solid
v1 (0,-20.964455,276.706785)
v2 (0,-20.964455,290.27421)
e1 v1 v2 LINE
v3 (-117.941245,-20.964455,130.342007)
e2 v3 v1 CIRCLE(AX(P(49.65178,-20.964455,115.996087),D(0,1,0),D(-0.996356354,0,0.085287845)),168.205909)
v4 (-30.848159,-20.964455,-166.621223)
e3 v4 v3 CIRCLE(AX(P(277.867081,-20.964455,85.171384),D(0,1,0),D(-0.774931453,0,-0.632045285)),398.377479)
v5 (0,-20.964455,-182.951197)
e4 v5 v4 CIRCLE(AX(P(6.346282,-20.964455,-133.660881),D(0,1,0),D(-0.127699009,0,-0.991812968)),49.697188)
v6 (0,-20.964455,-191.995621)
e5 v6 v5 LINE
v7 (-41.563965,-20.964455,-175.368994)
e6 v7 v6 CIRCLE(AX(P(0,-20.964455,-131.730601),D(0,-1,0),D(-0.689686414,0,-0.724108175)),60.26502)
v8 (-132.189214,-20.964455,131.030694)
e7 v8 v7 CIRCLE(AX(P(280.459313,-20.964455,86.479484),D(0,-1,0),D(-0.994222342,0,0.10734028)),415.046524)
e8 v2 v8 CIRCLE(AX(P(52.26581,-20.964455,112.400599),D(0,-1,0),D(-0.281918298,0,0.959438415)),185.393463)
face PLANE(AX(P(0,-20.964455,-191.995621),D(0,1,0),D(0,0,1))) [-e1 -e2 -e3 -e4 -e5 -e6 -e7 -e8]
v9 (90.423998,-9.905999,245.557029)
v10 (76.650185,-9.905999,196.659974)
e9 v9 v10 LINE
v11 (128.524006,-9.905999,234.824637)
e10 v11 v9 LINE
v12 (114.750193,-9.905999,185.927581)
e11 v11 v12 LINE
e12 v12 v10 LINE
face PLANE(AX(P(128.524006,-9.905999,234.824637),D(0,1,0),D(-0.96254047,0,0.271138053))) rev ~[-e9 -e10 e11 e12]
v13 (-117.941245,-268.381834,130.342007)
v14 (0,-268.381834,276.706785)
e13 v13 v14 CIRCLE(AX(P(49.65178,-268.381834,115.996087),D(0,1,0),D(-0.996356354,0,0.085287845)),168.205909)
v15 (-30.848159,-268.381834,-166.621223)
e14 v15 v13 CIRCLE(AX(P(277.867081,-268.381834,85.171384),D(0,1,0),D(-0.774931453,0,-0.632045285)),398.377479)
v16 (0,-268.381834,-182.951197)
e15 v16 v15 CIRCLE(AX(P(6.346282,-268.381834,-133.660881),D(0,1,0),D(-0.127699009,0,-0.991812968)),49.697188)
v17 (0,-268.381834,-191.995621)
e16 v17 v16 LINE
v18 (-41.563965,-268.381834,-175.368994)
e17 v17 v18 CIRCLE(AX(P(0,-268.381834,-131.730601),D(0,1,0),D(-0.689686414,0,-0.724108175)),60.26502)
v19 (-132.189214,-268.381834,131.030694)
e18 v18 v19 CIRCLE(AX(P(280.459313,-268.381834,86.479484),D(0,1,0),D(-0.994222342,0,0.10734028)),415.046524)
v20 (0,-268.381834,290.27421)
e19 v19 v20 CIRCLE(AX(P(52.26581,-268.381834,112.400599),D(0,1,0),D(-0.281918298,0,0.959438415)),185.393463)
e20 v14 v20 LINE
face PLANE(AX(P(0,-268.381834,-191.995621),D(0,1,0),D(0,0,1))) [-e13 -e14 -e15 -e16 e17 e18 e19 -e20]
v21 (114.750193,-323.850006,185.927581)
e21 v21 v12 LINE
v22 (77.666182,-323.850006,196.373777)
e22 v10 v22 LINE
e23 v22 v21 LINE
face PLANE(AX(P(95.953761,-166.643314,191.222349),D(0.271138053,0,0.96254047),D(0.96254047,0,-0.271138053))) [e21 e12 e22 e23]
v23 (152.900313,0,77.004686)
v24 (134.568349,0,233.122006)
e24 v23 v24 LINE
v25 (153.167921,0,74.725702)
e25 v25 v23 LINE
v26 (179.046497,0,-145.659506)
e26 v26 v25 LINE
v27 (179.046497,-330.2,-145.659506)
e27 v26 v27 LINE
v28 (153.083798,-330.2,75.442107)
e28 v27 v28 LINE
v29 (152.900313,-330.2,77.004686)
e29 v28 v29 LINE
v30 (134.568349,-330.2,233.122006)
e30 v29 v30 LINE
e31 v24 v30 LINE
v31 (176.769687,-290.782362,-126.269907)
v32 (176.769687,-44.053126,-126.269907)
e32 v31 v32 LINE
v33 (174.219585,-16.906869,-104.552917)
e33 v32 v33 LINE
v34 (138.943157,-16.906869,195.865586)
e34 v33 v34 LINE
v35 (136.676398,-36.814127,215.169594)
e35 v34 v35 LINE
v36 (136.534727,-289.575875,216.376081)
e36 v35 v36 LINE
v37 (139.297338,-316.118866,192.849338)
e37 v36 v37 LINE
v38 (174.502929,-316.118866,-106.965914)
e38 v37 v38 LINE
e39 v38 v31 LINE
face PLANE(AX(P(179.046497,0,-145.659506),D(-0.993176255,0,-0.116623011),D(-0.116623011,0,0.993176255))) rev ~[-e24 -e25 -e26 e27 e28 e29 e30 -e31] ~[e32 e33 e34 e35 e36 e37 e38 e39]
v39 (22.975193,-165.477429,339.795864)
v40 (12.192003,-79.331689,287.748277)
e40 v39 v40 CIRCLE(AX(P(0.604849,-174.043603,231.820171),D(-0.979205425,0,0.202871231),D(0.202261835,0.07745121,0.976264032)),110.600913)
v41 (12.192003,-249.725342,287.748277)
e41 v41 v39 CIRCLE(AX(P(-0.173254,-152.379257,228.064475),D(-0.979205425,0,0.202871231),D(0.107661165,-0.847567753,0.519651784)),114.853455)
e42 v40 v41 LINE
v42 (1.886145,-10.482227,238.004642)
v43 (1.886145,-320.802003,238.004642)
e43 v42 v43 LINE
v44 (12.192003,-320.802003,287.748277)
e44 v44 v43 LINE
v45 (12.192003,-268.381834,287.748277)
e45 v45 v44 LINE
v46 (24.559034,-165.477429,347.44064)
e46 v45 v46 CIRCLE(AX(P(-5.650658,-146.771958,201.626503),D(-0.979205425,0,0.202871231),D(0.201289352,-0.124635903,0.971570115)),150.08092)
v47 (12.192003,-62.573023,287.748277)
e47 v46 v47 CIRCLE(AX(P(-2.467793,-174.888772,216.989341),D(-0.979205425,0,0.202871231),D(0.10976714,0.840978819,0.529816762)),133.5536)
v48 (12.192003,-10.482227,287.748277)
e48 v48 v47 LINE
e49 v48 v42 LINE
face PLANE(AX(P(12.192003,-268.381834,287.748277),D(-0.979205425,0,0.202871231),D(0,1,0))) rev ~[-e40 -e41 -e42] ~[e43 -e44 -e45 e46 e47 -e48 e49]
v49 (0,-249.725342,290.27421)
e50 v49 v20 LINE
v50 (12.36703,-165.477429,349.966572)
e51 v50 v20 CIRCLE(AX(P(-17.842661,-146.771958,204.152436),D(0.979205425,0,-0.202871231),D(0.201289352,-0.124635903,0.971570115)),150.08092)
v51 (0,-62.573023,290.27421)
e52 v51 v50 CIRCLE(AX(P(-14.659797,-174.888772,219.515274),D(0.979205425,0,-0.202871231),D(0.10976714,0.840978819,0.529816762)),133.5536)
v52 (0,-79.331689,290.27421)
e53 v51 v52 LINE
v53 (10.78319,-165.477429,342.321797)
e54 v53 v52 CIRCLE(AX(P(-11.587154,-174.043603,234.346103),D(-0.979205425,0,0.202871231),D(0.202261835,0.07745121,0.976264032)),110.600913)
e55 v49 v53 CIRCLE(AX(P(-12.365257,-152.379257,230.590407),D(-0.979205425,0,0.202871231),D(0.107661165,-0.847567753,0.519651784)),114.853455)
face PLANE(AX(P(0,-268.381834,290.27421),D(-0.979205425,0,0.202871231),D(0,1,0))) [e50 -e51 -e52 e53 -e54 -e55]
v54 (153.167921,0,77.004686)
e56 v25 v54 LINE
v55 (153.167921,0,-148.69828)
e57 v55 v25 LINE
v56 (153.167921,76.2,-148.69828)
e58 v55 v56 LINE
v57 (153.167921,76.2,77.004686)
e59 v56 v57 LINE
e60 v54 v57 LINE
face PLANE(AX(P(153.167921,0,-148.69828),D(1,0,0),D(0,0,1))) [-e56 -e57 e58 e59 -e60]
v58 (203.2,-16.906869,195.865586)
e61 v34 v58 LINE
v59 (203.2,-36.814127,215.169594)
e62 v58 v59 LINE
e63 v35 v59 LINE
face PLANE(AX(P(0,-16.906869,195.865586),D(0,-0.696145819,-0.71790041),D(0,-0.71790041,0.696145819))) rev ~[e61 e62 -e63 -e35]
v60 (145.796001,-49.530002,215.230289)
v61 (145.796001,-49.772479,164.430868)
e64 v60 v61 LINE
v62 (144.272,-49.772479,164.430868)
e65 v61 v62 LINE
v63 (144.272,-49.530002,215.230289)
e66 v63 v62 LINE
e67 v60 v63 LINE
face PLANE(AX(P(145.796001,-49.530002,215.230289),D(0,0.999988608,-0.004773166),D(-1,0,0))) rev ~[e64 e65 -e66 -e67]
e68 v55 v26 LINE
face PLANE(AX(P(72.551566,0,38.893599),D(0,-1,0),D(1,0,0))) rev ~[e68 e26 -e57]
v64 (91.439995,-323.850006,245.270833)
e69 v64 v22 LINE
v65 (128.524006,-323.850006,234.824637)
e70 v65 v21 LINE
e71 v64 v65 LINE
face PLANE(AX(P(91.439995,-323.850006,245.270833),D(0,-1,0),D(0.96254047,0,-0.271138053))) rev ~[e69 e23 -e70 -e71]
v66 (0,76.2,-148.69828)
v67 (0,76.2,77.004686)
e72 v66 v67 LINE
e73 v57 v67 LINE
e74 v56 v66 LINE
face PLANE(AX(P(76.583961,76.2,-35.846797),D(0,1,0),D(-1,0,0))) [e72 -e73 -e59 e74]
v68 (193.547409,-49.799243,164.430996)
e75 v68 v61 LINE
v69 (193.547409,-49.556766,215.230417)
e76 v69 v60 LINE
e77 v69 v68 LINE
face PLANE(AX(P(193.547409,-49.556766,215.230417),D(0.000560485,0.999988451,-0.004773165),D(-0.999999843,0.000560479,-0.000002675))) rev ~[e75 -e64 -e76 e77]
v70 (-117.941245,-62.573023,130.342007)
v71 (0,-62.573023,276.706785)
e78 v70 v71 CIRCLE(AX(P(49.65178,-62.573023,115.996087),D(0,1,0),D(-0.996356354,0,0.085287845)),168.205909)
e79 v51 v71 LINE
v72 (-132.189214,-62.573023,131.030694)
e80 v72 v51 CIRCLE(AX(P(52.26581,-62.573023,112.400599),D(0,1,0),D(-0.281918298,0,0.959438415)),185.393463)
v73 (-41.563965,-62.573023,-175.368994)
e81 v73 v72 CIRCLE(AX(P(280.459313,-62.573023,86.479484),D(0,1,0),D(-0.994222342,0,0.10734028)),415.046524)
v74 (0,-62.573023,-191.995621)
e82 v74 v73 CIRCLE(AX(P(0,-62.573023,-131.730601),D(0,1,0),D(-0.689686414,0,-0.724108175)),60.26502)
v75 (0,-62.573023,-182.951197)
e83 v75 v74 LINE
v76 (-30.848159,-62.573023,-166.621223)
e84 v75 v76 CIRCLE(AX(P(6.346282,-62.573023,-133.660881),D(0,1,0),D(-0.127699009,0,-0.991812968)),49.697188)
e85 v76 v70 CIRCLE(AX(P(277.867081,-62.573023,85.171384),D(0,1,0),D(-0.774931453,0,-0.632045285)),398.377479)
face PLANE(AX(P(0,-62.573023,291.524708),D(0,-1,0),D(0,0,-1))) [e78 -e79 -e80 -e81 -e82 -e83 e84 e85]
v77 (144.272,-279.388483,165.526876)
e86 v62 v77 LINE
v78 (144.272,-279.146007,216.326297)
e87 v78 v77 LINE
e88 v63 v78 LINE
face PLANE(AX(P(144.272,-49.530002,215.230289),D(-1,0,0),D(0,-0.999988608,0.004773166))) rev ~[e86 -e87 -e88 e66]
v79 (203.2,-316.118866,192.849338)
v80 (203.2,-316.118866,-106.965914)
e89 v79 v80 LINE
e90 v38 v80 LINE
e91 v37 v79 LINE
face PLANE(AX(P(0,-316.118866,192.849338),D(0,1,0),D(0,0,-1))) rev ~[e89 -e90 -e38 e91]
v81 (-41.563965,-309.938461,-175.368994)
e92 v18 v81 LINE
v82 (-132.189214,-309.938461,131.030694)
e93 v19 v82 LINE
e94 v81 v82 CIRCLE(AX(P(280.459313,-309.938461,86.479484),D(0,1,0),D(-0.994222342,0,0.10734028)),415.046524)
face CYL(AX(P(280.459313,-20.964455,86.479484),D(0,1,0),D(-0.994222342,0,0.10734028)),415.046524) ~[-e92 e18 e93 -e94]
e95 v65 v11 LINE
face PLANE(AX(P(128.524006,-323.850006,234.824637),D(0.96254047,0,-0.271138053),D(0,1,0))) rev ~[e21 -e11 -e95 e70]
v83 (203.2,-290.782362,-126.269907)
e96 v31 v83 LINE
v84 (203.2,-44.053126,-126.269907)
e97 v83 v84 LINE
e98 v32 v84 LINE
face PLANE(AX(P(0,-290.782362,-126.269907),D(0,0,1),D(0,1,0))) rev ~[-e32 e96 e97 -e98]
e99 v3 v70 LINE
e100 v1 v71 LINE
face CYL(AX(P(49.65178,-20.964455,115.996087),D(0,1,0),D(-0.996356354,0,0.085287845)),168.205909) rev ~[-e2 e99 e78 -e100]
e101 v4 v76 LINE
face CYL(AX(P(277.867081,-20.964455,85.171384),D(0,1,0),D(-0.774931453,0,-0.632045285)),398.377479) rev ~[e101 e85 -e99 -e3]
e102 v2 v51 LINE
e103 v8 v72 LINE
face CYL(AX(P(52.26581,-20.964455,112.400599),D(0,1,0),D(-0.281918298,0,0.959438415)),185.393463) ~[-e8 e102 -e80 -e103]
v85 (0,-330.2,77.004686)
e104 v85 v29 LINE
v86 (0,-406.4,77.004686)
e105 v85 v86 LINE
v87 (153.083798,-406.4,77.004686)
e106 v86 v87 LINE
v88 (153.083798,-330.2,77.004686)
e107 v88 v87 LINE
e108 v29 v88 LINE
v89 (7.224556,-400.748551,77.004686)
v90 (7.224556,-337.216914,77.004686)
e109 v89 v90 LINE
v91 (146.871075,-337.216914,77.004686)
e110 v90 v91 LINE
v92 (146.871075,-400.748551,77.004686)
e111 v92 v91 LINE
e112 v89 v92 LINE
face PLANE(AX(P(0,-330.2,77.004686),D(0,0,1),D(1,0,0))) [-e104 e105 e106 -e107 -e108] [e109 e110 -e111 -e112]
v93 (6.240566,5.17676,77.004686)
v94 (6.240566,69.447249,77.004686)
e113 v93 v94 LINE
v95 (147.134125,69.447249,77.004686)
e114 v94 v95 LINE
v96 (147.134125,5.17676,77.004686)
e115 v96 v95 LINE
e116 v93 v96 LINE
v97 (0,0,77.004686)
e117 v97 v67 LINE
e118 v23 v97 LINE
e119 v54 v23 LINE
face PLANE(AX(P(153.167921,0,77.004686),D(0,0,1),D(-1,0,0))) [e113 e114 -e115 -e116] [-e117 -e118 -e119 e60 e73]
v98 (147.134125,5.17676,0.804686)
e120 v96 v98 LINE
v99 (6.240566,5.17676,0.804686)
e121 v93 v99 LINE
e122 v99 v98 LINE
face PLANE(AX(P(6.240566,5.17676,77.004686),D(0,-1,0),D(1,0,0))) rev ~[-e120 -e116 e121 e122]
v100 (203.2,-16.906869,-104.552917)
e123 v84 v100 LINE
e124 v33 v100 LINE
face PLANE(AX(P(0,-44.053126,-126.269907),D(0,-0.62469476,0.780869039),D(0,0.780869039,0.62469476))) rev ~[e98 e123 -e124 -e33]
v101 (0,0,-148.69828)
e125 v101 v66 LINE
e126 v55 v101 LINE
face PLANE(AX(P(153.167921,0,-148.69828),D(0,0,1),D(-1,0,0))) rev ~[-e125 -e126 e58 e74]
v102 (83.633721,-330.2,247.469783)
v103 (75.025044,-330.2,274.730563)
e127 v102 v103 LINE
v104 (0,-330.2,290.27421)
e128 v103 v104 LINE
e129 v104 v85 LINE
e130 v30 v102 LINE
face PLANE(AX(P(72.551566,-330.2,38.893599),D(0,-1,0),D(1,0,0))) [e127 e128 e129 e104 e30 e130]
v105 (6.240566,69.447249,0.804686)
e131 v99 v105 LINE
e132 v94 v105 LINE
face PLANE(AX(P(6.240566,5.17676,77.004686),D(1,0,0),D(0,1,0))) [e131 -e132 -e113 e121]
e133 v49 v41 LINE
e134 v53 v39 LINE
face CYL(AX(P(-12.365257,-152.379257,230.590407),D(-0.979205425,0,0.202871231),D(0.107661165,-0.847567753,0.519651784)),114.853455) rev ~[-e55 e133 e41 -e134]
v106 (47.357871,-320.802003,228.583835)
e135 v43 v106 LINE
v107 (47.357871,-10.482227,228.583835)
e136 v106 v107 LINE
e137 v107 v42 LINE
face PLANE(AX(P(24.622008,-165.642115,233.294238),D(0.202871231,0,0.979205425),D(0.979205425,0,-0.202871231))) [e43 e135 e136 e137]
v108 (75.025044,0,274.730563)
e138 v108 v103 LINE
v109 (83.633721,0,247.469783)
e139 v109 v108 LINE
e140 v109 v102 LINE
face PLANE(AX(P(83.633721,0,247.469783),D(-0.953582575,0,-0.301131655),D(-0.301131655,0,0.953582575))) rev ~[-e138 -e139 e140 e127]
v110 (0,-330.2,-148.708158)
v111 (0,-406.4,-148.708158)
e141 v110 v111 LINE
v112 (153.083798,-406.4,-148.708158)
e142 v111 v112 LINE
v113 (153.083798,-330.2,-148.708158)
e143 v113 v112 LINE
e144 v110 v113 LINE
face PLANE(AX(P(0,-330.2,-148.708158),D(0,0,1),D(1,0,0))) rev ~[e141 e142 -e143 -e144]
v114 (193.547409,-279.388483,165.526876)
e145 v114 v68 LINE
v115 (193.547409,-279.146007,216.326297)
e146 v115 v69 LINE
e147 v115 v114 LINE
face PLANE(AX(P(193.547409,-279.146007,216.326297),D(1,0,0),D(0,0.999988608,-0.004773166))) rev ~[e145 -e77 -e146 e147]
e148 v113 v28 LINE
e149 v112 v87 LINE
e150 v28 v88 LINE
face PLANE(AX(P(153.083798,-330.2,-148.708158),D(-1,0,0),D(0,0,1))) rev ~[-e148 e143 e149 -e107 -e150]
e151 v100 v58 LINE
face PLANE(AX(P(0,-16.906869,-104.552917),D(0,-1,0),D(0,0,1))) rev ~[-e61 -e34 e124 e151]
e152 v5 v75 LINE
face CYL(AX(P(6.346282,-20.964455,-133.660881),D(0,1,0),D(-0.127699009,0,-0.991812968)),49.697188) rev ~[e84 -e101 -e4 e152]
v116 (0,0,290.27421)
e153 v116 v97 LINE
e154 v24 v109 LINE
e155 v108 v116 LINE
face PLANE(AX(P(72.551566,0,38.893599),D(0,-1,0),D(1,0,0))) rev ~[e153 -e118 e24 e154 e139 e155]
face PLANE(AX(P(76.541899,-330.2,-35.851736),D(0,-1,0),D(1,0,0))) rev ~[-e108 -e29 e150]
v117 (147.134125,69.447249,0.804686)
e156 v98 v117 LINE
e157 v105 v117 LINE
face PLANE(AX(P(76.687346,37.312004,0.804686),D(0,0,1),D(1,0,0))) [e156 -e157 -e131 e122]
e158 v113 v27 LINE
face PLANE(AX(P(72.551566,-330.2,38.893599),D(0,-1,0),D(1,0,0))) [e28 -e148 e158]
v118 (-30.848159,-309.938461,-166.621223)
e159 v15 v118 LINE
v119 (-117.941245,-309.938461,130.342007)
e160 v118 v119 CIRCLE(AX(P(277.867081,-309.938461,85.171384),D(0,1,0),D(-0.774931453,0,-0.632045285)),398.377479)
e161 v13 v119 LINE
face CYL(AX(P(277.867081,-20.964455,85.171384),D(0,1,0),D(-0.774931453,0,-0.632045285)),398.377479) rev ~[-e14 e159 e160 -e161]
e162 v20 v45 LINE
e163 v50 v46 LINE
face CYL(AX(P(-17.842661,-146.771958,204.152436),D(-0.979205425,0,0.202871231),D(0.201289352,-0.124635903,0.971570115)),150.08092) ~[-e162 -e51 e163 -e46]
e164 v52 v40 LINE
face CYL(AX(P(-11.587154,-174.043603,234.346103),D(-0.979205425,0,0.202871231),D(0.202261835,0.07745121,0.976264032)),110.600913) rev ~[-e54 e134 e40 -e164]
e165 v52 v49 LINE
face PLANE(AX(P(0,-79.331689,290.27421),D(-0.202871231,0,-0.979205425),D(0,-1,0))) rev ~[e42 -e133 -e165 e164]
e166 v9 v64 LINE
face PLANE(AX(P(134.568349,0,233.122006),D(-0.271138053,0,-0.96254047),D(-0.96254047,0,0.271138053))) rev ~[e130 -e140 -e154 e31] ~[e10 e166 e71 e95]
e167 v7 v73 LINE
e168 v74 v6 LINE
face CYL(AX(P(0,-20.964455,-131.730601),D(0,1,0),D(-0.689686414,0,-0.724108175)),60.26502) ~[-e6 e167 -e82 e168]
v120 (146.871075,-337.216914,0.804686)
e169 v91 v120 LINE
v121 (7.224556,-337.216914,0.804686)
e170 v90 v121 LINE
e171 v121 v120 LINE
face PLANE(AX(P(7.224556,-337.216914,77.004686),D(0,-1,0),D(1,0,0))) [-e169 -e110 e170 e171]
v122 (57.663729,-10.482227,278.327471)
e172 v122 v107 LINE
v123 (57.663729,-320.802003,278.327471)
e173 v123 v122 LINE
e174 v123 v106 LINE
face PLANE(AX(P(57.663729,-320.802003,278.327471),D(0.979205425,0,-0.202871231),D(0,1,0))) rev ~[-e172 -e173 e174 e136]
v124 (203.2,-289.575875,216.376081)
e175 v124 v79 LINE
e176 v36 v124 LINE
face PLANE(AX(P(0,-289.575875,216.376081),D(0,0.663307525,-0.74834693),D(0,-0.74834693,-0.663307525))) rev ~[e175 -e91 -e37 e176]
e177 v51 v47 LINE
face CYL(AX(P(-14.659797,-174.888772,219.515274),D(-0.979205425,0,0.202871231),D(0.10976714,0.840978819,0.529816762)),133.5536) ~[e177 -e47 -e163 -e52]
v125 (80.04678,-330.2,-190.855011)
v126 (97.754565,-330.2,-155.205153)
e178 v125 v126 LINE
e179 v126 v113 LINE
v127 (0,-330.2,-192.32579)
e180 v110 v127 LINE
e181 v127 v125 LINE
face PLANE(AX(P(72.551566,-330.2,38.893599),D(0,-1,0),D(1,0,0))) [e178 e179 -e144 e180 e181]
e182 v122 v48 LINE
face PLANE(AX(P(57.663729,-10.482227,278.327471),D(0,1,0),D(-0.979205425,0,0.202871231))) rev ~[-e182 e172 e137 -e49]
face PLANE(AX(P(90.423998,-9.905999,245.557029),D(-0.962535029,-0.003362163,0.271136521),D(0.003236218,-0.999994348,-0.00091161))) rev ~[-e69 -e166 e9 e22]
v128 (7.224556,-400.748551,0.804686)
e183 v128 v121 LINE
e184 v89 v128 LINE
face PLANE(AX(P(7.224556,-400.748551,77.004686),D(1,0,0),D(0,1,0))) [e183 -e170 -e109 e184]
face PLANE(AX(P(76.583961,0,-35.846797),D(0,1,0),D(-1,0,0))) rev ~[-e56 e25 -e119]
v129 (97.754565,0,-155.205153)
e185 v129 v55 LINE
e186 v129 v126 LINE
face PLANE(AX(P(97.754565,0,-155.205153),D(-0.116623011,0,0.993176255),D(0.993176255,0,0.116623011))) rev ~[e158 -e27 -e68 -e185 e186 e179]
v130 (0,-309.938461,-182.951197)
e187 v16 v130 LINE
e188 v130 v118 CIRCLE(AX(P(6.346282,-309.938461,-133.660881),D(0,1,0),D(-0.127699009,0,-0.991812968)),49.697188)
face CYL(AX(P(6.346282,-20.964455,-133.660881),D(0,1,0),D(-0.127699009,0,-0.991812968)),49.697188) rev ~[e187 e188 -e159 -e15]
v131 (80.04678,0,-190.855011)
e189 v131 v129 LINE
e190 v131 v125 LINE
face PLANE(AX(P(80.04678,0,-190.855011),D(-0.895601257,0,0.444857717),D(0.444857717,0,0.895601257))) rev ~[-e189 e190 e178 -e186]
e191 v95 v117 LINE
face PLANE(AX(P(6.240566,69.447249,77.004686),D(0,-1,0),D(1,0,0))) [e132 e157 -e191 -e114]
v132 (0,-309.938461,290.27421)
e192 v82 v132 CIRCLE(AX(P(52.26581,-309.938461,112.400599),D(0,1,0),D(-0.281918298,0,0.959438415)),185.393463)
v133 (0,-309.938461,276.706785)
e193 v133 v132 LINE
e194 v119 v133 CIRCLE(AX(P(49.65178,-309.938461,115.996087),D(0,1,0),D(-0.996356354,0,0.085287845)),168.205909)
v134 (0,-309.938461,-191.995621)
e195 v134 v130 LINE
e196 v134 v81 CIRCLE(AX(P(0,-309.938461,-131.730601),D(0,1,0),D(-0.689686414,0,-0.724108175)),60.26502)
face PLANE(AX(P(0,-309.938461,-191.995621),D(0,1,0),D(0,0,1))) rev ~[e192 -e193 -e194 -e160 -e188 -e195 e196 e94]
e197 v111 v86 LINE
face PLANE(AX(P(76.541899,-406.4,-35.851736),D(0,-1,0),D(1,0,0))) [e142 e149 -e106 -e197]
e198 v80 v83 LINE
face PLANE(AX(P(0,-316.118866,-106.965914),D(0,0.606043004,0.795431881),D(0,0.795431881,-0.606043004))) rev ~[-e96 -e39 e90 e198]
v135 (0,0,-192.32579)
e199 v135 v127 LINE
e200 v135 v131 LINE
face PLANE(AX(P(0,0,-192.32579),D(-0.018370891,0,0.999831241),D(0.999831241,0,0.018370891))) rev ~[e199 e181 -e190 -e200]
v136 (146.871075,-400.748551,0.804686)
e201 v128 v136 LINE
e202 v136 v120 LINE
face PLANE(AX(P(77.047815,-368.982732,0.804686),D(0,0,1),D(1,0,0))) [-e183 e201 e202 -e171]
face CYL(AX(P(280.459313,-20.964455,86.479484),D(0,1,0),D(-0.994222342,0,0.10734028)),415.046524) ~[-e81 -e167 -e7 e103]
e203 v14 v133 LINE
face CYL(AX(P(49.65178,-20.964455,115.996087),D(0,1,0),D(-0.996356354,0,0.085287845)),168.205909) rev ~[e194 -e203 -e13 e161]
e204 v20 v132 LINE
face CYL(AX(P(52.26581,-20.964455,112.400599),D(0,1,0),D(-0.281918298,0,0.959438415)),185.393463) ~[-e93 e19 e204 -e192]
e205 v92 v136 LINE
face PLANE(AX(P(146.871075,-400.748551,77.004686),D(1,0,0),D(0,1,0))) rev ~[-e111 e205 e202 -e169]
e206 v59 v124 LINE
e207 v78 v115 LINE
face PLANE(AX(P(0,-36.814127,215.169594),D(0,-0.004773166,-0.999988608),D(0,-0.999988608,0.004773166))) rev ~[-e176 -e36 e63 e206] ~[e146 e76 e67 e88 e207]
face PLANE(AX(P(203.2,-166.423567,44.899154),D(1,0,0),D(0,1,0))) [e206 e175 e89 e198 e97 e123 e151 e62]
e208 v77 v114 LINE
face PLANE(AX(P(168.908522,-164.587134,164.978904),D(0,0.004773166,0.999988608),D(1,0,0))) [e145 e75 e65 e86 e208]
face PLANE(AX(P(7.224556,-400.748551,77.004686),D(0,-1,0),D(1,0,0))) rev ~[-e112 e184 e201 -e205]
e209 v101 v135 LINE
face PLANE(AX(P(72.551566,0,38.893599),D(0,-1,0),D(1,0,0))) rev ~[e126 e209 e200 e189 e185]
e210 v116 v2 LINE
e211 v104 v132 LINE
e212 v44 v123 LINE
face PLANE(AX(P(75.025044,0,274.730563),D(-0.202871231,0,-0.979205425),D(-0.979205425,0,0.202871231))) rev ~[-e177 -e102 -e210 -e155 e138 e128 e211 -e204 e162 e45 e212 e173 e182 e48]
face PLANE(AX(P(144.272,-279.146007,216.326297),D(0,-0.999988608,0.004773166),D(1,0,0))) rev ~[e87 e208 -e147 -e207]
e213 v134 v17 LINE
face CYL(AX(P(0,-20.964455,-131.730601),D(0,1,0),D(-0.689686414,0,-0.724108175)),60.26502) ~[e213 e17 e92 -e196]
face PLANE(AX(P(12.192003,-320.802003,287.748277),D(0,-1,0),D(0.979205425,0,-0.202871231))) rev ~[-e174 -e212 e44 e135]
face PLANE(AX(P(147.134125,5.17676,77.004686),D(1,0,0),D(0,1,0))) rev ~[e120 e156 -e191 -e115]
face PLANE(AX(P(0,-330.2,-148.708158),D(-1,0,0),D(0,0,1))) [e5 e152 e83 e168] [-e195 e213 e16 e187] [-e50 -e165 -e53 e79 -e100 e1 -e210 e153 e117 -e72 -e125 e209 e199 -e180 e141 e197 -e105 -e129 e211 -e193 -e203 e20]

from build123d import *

# Parameters (mm, degrees)
F1_DEPTH  = 330.2
F3_DEPTH  = 203.2
F4_W      = 41.5566265583
F4_H      = 483.5203289986
F5_DEPTH  = 139.7
F8_DEPTH  = 304.8
F9_DEPTH  = 304.8
F13_DEPTH = 50.8
F14_DEPTH = 50.8
F15_DEPTH = 50.8
F16_W     = 12.4509147432
F16_H     = 205.8088108897
F17_DEPTH = 60.96
F19_DEPTH = 25.4
F20_DEPTH = 25.4
F21_W     = 153.1679212224
F21_H     = 225.7029655442
F22_DEPTH = 76.2
F23_W     = 153.0837979386
F23_H     = 225.7128436606
F24_DEPTH = 76.2
F25_W     = 139.6465194412
F25_H     = 63.5316371918
F26_DEPTH = 76.2
F27_W     = 140.8935589716
F27_H     = 64.2704893835
F28_DEPTH = 76.2


with BuildPart() as f1:
    # F0 (on Front) → F1 (new body)
    with BuildSketch(Plane.XZ):
        Polygon((75.0250443816, 274.7305631638), (0, 290.2742098035), (0, -192.3257901965), (80.0467804074, -190.855011344), (97.7545654154, -155.2051532254), (179.0464967489, -145.659506321), (134.568348527, 233.1220060587), (83.6337208748, 247.4697828293), align=None)
    extrude(amount=F1_DEPTH)

    # F2 (on Right) → F3 (join)
    with BuildSketch(Plane.YZ):
        Polygon((-36.8141271174, 215.1695936918), (-289.5758748055, 216.376081109), (-316.1188662052, 192.8493380547), (-316.1188662052, -106.9659143686), (-290.7823622227, -126.2699067593), (-44.0531261265, -126.2699067593), (-16.9068686664, -104.5529171824), (-16.9068686664, 195.8655864), align=None)
    extrude(amount=F3_DEPTH)

    # F4 (on Right) → F5 (join)
    with BuildSketch(Plane.YZ):
        Polygon((-20.9644548595, -191.9956207275), (-20.9644548595, 291.524708271), (-62.5730231404, 291.524708271), (-62.5730231404, -191.9956207275), (-26.7035681754, -191.9956207275), align=None)
        with Locations((-289.1601473093, 49.7645437717)):
            Rectangle(F4_W, F4_H)
    extrude(amount=-F5_DEPTH)

    # F7 (on face) → F8 (cut)
    with BuildSketch(Plane(origin=(0, -20.9644548595, 0), x_dir=(-1, 0, 0), z_dir=(0, 1, 0))):
        with BuildLine():
            Line((0, 291.524708271), (0, 290.2742098035))
            ThreePointArc((0, 290.2742098035), (90.3834546734, 230.8148027656), (132.1892142296, 131.0306936502))
            ThreePointArc((132.1892142296, 131.0306936502), (117.5430207962, -31.2395021377), (41.5639653802, -175.3689944744))
            ThreePointArc((41.5639653802, -175.3689944744), (22.3830735082, -187.6847842501), (0, -191.9956207275))
            Line((0, -191.9956207275), (139.7, -191.9956207275))
            Line((139.7, -191.9956207275), (139.7, 291.524708271))
            Line((139.7, 291.524708271), (0, 291.524708271))
        make_face()
    extrude(amount=-F8_DEPTH, mode=Mode.SUBTRACT)

    # F7 (on face) → F9 (cut)
    with BuildSketch(Plane(origin=(0, -20.9644548595, 0), x_dir=(-1, 0, 0), z_dir=(0, 1, 0))):
        with BuildLine():
            ThreePointArc((30.8481585234, -166.6212230921), (104.4091983221, -26.9422304703), (117.9412454367, 130.3420066833))
            ThreePointArc((117.9412454367, 130.3420066833), (81.3233643675, 221.5363124881), (0, 276.7067849636))
            Line((0, 276.7067849636), (0, -182.9511970282))
            ThreePointArc((0, -182.9511970282), (16.9048608228, -177.5834823958), (30.8481585234, -166.6212230921))
        make_face()
    extrude(amount=-F9_DEPTH, mode=Mode.SUBTRACT)

    # F12 (on face) → F13 (cut)
    with BuildSketch(Plane(origin=(0, 1.026189658, 214.9889735368), x_dir=(1, 0, 0), z_dir=(0, 0.0047731656, 0.9999886084))):
        Polygon((193.5474094368, -50.5835317066), (145.7960009575, -50.5567677319), (144.2719995975, -50.5567677319), (144.2719995975, -280.1753878593), (193.5474094368, -280.1753878593), align=None)
    extrude(amount=-F13_DEPTH, mode=Mode.SUBTRACT)

    # F10 (on face) → F14 (cut)
    with BuildSketch(Plane(origin=(57.6637293587, 0, 278.3274706783), x_dir=(0.9792054246, 0, -0.202871231), z_dir=(0.202871231, 0, 0.9792054246))):
        Polygon((0, -10.4822274297), (-44.3622209132, -10.4822274297), (-46.4373715222, -10.4822274297), (-46.4373715222, -320.8020031452), (0, -320.8020031452), align=None)
    extrude(amount=-F14_DEPTH, mode=Mode.SUBTRACT)

    # F11 (on face) → F15 (cut)
    with BuildSketch(Plane(origin=(70.7334014159, 0, 251.1036741994), x_dir=(0.9625404698, 0, -0.2711380534), z_dir=(0.2711380534, 0, 0.9625404698))):
        Polygon((60.0396618247, -9.9059985951), (20.4569026828, -9.9059985951), (21.5124394745, -323.8500058651), (60.0396618247, -323.8500058651), align=None)
    extrude(amount=-F15_DEPTH, mode=Mode.SUBTRACT)

    # F16 (on face) → F17 (join)
    with BuildSketch(Plane(origin=(57.6637293587, 0, 278.3274706783), x_dir=(0.9792054246, 0, -0.202871231), z_dir=(0.202871231, 0, 0.9792054246))):
        with Locations((-52.6628288938, -165.4774285853)):
            Rectangle(F16_W, F16_H)
    extrude(amount=F17_DEPTH)

    # F18 (on face) → F19 (cut)
    with BuildSketch(Plane(origin=(-57.6637293587, 0, 11.9467391251), x_dir=(0, -1, 0), z_dir=(-0.9792054246, 0, 0.202871231))):
        with BuildLine():
            ThreePointArc((62.5730231404, 284.2380808719), (106.8196773219, 326.8815108015), (165.4774285853, 345.1980808719))
            Line((165.4774285853, 345.1980808719), (62.5730231404, 345.1980808719))
            Line((62.5730231404, 345.1980808719), (62.5730231404, 284.2380808719))
        make_face()
        with BuildLine():
            Line((268.3818340302, 345.1980808719), (165.4774285853, 345.1980808719))
            ThreePointArc((165.4774285853, 345.1980808719), (223.2646342428, 325.4119737611), (268.3818340302, 284.2380808719))
            Line((268.3818340302, 284.2380808719), (268.3818340302, 345.1980808719))
        make_face()
    extrude(amount=-F19_DEPTH, mode=Mode.SUBTRACT)

    # F18 (on face) → F20 (cut)
    with BuildSketch(Plane(origin=(-57.6637293587, 0, 11.9467391251), x_dir=(0, -1, 0), z_dir=(-0.9792054246, 0, 0.202871231))):
        with BuildLine():
            ThreePointArc((165.4774285853, 337.3909592628), (115.9669465301, 321.2480632926), (79.3316885829, 284.2380808719))
            Line((79.3316885829, 284.2380808719), (249.7253417969, 284.2380808719))
            ThreePointArc((249.7253417969, 284.2380808719), (213.6637620757, 320.4234559725), (165.4774285853, 337.3909592628))
        make_face()
    extrude(amount=-F20_DEPTH, mode=Mode.SUBTRACT)

    # F21 (on face) → F22 (join)
    with BuildSketch(Plane(origin=(0, 0, 0), x_dir=(-1, 0, 0), z_dir=(0, 1, 0))):
        with Locations((-76.5839606112, -35.8467967741)):
            Rectangle(F21_W, F21_H)
    extrude(amount=F22_DEPTH)

    # F23 (on face) → F24 (join)
    with BuildSketch(Plane.XZ.offset(330.2)):
        with Locations((76.5418989693, -35.8517358323)):
            Rectangle(F23_W, F23_H)
    extrude(amount=F24_DEPTH)

    # F25 (on face) → F26 (cut)
    with BuildSketch(Plane.XY.offset(77.004685998)):
        with Locations((77.0478153136, -368.982732296)):
            Rectangle(F25_W, F25_H)
    extrude(amount=-F26_DEPTH, mode=Mode.SUBTRACT)

    # F27 (on face) → F28 (cut)
    with BuildSketch(Plane.XY.offset(77.004685998)):
        with Locations((76.6873457469, 37.3120044824)):
            Rectangle(F27_W, F27_H)
    extrude(amount=-F28_DEPTH, mode=Mode.SUBTRACT)


solid = f1.part
